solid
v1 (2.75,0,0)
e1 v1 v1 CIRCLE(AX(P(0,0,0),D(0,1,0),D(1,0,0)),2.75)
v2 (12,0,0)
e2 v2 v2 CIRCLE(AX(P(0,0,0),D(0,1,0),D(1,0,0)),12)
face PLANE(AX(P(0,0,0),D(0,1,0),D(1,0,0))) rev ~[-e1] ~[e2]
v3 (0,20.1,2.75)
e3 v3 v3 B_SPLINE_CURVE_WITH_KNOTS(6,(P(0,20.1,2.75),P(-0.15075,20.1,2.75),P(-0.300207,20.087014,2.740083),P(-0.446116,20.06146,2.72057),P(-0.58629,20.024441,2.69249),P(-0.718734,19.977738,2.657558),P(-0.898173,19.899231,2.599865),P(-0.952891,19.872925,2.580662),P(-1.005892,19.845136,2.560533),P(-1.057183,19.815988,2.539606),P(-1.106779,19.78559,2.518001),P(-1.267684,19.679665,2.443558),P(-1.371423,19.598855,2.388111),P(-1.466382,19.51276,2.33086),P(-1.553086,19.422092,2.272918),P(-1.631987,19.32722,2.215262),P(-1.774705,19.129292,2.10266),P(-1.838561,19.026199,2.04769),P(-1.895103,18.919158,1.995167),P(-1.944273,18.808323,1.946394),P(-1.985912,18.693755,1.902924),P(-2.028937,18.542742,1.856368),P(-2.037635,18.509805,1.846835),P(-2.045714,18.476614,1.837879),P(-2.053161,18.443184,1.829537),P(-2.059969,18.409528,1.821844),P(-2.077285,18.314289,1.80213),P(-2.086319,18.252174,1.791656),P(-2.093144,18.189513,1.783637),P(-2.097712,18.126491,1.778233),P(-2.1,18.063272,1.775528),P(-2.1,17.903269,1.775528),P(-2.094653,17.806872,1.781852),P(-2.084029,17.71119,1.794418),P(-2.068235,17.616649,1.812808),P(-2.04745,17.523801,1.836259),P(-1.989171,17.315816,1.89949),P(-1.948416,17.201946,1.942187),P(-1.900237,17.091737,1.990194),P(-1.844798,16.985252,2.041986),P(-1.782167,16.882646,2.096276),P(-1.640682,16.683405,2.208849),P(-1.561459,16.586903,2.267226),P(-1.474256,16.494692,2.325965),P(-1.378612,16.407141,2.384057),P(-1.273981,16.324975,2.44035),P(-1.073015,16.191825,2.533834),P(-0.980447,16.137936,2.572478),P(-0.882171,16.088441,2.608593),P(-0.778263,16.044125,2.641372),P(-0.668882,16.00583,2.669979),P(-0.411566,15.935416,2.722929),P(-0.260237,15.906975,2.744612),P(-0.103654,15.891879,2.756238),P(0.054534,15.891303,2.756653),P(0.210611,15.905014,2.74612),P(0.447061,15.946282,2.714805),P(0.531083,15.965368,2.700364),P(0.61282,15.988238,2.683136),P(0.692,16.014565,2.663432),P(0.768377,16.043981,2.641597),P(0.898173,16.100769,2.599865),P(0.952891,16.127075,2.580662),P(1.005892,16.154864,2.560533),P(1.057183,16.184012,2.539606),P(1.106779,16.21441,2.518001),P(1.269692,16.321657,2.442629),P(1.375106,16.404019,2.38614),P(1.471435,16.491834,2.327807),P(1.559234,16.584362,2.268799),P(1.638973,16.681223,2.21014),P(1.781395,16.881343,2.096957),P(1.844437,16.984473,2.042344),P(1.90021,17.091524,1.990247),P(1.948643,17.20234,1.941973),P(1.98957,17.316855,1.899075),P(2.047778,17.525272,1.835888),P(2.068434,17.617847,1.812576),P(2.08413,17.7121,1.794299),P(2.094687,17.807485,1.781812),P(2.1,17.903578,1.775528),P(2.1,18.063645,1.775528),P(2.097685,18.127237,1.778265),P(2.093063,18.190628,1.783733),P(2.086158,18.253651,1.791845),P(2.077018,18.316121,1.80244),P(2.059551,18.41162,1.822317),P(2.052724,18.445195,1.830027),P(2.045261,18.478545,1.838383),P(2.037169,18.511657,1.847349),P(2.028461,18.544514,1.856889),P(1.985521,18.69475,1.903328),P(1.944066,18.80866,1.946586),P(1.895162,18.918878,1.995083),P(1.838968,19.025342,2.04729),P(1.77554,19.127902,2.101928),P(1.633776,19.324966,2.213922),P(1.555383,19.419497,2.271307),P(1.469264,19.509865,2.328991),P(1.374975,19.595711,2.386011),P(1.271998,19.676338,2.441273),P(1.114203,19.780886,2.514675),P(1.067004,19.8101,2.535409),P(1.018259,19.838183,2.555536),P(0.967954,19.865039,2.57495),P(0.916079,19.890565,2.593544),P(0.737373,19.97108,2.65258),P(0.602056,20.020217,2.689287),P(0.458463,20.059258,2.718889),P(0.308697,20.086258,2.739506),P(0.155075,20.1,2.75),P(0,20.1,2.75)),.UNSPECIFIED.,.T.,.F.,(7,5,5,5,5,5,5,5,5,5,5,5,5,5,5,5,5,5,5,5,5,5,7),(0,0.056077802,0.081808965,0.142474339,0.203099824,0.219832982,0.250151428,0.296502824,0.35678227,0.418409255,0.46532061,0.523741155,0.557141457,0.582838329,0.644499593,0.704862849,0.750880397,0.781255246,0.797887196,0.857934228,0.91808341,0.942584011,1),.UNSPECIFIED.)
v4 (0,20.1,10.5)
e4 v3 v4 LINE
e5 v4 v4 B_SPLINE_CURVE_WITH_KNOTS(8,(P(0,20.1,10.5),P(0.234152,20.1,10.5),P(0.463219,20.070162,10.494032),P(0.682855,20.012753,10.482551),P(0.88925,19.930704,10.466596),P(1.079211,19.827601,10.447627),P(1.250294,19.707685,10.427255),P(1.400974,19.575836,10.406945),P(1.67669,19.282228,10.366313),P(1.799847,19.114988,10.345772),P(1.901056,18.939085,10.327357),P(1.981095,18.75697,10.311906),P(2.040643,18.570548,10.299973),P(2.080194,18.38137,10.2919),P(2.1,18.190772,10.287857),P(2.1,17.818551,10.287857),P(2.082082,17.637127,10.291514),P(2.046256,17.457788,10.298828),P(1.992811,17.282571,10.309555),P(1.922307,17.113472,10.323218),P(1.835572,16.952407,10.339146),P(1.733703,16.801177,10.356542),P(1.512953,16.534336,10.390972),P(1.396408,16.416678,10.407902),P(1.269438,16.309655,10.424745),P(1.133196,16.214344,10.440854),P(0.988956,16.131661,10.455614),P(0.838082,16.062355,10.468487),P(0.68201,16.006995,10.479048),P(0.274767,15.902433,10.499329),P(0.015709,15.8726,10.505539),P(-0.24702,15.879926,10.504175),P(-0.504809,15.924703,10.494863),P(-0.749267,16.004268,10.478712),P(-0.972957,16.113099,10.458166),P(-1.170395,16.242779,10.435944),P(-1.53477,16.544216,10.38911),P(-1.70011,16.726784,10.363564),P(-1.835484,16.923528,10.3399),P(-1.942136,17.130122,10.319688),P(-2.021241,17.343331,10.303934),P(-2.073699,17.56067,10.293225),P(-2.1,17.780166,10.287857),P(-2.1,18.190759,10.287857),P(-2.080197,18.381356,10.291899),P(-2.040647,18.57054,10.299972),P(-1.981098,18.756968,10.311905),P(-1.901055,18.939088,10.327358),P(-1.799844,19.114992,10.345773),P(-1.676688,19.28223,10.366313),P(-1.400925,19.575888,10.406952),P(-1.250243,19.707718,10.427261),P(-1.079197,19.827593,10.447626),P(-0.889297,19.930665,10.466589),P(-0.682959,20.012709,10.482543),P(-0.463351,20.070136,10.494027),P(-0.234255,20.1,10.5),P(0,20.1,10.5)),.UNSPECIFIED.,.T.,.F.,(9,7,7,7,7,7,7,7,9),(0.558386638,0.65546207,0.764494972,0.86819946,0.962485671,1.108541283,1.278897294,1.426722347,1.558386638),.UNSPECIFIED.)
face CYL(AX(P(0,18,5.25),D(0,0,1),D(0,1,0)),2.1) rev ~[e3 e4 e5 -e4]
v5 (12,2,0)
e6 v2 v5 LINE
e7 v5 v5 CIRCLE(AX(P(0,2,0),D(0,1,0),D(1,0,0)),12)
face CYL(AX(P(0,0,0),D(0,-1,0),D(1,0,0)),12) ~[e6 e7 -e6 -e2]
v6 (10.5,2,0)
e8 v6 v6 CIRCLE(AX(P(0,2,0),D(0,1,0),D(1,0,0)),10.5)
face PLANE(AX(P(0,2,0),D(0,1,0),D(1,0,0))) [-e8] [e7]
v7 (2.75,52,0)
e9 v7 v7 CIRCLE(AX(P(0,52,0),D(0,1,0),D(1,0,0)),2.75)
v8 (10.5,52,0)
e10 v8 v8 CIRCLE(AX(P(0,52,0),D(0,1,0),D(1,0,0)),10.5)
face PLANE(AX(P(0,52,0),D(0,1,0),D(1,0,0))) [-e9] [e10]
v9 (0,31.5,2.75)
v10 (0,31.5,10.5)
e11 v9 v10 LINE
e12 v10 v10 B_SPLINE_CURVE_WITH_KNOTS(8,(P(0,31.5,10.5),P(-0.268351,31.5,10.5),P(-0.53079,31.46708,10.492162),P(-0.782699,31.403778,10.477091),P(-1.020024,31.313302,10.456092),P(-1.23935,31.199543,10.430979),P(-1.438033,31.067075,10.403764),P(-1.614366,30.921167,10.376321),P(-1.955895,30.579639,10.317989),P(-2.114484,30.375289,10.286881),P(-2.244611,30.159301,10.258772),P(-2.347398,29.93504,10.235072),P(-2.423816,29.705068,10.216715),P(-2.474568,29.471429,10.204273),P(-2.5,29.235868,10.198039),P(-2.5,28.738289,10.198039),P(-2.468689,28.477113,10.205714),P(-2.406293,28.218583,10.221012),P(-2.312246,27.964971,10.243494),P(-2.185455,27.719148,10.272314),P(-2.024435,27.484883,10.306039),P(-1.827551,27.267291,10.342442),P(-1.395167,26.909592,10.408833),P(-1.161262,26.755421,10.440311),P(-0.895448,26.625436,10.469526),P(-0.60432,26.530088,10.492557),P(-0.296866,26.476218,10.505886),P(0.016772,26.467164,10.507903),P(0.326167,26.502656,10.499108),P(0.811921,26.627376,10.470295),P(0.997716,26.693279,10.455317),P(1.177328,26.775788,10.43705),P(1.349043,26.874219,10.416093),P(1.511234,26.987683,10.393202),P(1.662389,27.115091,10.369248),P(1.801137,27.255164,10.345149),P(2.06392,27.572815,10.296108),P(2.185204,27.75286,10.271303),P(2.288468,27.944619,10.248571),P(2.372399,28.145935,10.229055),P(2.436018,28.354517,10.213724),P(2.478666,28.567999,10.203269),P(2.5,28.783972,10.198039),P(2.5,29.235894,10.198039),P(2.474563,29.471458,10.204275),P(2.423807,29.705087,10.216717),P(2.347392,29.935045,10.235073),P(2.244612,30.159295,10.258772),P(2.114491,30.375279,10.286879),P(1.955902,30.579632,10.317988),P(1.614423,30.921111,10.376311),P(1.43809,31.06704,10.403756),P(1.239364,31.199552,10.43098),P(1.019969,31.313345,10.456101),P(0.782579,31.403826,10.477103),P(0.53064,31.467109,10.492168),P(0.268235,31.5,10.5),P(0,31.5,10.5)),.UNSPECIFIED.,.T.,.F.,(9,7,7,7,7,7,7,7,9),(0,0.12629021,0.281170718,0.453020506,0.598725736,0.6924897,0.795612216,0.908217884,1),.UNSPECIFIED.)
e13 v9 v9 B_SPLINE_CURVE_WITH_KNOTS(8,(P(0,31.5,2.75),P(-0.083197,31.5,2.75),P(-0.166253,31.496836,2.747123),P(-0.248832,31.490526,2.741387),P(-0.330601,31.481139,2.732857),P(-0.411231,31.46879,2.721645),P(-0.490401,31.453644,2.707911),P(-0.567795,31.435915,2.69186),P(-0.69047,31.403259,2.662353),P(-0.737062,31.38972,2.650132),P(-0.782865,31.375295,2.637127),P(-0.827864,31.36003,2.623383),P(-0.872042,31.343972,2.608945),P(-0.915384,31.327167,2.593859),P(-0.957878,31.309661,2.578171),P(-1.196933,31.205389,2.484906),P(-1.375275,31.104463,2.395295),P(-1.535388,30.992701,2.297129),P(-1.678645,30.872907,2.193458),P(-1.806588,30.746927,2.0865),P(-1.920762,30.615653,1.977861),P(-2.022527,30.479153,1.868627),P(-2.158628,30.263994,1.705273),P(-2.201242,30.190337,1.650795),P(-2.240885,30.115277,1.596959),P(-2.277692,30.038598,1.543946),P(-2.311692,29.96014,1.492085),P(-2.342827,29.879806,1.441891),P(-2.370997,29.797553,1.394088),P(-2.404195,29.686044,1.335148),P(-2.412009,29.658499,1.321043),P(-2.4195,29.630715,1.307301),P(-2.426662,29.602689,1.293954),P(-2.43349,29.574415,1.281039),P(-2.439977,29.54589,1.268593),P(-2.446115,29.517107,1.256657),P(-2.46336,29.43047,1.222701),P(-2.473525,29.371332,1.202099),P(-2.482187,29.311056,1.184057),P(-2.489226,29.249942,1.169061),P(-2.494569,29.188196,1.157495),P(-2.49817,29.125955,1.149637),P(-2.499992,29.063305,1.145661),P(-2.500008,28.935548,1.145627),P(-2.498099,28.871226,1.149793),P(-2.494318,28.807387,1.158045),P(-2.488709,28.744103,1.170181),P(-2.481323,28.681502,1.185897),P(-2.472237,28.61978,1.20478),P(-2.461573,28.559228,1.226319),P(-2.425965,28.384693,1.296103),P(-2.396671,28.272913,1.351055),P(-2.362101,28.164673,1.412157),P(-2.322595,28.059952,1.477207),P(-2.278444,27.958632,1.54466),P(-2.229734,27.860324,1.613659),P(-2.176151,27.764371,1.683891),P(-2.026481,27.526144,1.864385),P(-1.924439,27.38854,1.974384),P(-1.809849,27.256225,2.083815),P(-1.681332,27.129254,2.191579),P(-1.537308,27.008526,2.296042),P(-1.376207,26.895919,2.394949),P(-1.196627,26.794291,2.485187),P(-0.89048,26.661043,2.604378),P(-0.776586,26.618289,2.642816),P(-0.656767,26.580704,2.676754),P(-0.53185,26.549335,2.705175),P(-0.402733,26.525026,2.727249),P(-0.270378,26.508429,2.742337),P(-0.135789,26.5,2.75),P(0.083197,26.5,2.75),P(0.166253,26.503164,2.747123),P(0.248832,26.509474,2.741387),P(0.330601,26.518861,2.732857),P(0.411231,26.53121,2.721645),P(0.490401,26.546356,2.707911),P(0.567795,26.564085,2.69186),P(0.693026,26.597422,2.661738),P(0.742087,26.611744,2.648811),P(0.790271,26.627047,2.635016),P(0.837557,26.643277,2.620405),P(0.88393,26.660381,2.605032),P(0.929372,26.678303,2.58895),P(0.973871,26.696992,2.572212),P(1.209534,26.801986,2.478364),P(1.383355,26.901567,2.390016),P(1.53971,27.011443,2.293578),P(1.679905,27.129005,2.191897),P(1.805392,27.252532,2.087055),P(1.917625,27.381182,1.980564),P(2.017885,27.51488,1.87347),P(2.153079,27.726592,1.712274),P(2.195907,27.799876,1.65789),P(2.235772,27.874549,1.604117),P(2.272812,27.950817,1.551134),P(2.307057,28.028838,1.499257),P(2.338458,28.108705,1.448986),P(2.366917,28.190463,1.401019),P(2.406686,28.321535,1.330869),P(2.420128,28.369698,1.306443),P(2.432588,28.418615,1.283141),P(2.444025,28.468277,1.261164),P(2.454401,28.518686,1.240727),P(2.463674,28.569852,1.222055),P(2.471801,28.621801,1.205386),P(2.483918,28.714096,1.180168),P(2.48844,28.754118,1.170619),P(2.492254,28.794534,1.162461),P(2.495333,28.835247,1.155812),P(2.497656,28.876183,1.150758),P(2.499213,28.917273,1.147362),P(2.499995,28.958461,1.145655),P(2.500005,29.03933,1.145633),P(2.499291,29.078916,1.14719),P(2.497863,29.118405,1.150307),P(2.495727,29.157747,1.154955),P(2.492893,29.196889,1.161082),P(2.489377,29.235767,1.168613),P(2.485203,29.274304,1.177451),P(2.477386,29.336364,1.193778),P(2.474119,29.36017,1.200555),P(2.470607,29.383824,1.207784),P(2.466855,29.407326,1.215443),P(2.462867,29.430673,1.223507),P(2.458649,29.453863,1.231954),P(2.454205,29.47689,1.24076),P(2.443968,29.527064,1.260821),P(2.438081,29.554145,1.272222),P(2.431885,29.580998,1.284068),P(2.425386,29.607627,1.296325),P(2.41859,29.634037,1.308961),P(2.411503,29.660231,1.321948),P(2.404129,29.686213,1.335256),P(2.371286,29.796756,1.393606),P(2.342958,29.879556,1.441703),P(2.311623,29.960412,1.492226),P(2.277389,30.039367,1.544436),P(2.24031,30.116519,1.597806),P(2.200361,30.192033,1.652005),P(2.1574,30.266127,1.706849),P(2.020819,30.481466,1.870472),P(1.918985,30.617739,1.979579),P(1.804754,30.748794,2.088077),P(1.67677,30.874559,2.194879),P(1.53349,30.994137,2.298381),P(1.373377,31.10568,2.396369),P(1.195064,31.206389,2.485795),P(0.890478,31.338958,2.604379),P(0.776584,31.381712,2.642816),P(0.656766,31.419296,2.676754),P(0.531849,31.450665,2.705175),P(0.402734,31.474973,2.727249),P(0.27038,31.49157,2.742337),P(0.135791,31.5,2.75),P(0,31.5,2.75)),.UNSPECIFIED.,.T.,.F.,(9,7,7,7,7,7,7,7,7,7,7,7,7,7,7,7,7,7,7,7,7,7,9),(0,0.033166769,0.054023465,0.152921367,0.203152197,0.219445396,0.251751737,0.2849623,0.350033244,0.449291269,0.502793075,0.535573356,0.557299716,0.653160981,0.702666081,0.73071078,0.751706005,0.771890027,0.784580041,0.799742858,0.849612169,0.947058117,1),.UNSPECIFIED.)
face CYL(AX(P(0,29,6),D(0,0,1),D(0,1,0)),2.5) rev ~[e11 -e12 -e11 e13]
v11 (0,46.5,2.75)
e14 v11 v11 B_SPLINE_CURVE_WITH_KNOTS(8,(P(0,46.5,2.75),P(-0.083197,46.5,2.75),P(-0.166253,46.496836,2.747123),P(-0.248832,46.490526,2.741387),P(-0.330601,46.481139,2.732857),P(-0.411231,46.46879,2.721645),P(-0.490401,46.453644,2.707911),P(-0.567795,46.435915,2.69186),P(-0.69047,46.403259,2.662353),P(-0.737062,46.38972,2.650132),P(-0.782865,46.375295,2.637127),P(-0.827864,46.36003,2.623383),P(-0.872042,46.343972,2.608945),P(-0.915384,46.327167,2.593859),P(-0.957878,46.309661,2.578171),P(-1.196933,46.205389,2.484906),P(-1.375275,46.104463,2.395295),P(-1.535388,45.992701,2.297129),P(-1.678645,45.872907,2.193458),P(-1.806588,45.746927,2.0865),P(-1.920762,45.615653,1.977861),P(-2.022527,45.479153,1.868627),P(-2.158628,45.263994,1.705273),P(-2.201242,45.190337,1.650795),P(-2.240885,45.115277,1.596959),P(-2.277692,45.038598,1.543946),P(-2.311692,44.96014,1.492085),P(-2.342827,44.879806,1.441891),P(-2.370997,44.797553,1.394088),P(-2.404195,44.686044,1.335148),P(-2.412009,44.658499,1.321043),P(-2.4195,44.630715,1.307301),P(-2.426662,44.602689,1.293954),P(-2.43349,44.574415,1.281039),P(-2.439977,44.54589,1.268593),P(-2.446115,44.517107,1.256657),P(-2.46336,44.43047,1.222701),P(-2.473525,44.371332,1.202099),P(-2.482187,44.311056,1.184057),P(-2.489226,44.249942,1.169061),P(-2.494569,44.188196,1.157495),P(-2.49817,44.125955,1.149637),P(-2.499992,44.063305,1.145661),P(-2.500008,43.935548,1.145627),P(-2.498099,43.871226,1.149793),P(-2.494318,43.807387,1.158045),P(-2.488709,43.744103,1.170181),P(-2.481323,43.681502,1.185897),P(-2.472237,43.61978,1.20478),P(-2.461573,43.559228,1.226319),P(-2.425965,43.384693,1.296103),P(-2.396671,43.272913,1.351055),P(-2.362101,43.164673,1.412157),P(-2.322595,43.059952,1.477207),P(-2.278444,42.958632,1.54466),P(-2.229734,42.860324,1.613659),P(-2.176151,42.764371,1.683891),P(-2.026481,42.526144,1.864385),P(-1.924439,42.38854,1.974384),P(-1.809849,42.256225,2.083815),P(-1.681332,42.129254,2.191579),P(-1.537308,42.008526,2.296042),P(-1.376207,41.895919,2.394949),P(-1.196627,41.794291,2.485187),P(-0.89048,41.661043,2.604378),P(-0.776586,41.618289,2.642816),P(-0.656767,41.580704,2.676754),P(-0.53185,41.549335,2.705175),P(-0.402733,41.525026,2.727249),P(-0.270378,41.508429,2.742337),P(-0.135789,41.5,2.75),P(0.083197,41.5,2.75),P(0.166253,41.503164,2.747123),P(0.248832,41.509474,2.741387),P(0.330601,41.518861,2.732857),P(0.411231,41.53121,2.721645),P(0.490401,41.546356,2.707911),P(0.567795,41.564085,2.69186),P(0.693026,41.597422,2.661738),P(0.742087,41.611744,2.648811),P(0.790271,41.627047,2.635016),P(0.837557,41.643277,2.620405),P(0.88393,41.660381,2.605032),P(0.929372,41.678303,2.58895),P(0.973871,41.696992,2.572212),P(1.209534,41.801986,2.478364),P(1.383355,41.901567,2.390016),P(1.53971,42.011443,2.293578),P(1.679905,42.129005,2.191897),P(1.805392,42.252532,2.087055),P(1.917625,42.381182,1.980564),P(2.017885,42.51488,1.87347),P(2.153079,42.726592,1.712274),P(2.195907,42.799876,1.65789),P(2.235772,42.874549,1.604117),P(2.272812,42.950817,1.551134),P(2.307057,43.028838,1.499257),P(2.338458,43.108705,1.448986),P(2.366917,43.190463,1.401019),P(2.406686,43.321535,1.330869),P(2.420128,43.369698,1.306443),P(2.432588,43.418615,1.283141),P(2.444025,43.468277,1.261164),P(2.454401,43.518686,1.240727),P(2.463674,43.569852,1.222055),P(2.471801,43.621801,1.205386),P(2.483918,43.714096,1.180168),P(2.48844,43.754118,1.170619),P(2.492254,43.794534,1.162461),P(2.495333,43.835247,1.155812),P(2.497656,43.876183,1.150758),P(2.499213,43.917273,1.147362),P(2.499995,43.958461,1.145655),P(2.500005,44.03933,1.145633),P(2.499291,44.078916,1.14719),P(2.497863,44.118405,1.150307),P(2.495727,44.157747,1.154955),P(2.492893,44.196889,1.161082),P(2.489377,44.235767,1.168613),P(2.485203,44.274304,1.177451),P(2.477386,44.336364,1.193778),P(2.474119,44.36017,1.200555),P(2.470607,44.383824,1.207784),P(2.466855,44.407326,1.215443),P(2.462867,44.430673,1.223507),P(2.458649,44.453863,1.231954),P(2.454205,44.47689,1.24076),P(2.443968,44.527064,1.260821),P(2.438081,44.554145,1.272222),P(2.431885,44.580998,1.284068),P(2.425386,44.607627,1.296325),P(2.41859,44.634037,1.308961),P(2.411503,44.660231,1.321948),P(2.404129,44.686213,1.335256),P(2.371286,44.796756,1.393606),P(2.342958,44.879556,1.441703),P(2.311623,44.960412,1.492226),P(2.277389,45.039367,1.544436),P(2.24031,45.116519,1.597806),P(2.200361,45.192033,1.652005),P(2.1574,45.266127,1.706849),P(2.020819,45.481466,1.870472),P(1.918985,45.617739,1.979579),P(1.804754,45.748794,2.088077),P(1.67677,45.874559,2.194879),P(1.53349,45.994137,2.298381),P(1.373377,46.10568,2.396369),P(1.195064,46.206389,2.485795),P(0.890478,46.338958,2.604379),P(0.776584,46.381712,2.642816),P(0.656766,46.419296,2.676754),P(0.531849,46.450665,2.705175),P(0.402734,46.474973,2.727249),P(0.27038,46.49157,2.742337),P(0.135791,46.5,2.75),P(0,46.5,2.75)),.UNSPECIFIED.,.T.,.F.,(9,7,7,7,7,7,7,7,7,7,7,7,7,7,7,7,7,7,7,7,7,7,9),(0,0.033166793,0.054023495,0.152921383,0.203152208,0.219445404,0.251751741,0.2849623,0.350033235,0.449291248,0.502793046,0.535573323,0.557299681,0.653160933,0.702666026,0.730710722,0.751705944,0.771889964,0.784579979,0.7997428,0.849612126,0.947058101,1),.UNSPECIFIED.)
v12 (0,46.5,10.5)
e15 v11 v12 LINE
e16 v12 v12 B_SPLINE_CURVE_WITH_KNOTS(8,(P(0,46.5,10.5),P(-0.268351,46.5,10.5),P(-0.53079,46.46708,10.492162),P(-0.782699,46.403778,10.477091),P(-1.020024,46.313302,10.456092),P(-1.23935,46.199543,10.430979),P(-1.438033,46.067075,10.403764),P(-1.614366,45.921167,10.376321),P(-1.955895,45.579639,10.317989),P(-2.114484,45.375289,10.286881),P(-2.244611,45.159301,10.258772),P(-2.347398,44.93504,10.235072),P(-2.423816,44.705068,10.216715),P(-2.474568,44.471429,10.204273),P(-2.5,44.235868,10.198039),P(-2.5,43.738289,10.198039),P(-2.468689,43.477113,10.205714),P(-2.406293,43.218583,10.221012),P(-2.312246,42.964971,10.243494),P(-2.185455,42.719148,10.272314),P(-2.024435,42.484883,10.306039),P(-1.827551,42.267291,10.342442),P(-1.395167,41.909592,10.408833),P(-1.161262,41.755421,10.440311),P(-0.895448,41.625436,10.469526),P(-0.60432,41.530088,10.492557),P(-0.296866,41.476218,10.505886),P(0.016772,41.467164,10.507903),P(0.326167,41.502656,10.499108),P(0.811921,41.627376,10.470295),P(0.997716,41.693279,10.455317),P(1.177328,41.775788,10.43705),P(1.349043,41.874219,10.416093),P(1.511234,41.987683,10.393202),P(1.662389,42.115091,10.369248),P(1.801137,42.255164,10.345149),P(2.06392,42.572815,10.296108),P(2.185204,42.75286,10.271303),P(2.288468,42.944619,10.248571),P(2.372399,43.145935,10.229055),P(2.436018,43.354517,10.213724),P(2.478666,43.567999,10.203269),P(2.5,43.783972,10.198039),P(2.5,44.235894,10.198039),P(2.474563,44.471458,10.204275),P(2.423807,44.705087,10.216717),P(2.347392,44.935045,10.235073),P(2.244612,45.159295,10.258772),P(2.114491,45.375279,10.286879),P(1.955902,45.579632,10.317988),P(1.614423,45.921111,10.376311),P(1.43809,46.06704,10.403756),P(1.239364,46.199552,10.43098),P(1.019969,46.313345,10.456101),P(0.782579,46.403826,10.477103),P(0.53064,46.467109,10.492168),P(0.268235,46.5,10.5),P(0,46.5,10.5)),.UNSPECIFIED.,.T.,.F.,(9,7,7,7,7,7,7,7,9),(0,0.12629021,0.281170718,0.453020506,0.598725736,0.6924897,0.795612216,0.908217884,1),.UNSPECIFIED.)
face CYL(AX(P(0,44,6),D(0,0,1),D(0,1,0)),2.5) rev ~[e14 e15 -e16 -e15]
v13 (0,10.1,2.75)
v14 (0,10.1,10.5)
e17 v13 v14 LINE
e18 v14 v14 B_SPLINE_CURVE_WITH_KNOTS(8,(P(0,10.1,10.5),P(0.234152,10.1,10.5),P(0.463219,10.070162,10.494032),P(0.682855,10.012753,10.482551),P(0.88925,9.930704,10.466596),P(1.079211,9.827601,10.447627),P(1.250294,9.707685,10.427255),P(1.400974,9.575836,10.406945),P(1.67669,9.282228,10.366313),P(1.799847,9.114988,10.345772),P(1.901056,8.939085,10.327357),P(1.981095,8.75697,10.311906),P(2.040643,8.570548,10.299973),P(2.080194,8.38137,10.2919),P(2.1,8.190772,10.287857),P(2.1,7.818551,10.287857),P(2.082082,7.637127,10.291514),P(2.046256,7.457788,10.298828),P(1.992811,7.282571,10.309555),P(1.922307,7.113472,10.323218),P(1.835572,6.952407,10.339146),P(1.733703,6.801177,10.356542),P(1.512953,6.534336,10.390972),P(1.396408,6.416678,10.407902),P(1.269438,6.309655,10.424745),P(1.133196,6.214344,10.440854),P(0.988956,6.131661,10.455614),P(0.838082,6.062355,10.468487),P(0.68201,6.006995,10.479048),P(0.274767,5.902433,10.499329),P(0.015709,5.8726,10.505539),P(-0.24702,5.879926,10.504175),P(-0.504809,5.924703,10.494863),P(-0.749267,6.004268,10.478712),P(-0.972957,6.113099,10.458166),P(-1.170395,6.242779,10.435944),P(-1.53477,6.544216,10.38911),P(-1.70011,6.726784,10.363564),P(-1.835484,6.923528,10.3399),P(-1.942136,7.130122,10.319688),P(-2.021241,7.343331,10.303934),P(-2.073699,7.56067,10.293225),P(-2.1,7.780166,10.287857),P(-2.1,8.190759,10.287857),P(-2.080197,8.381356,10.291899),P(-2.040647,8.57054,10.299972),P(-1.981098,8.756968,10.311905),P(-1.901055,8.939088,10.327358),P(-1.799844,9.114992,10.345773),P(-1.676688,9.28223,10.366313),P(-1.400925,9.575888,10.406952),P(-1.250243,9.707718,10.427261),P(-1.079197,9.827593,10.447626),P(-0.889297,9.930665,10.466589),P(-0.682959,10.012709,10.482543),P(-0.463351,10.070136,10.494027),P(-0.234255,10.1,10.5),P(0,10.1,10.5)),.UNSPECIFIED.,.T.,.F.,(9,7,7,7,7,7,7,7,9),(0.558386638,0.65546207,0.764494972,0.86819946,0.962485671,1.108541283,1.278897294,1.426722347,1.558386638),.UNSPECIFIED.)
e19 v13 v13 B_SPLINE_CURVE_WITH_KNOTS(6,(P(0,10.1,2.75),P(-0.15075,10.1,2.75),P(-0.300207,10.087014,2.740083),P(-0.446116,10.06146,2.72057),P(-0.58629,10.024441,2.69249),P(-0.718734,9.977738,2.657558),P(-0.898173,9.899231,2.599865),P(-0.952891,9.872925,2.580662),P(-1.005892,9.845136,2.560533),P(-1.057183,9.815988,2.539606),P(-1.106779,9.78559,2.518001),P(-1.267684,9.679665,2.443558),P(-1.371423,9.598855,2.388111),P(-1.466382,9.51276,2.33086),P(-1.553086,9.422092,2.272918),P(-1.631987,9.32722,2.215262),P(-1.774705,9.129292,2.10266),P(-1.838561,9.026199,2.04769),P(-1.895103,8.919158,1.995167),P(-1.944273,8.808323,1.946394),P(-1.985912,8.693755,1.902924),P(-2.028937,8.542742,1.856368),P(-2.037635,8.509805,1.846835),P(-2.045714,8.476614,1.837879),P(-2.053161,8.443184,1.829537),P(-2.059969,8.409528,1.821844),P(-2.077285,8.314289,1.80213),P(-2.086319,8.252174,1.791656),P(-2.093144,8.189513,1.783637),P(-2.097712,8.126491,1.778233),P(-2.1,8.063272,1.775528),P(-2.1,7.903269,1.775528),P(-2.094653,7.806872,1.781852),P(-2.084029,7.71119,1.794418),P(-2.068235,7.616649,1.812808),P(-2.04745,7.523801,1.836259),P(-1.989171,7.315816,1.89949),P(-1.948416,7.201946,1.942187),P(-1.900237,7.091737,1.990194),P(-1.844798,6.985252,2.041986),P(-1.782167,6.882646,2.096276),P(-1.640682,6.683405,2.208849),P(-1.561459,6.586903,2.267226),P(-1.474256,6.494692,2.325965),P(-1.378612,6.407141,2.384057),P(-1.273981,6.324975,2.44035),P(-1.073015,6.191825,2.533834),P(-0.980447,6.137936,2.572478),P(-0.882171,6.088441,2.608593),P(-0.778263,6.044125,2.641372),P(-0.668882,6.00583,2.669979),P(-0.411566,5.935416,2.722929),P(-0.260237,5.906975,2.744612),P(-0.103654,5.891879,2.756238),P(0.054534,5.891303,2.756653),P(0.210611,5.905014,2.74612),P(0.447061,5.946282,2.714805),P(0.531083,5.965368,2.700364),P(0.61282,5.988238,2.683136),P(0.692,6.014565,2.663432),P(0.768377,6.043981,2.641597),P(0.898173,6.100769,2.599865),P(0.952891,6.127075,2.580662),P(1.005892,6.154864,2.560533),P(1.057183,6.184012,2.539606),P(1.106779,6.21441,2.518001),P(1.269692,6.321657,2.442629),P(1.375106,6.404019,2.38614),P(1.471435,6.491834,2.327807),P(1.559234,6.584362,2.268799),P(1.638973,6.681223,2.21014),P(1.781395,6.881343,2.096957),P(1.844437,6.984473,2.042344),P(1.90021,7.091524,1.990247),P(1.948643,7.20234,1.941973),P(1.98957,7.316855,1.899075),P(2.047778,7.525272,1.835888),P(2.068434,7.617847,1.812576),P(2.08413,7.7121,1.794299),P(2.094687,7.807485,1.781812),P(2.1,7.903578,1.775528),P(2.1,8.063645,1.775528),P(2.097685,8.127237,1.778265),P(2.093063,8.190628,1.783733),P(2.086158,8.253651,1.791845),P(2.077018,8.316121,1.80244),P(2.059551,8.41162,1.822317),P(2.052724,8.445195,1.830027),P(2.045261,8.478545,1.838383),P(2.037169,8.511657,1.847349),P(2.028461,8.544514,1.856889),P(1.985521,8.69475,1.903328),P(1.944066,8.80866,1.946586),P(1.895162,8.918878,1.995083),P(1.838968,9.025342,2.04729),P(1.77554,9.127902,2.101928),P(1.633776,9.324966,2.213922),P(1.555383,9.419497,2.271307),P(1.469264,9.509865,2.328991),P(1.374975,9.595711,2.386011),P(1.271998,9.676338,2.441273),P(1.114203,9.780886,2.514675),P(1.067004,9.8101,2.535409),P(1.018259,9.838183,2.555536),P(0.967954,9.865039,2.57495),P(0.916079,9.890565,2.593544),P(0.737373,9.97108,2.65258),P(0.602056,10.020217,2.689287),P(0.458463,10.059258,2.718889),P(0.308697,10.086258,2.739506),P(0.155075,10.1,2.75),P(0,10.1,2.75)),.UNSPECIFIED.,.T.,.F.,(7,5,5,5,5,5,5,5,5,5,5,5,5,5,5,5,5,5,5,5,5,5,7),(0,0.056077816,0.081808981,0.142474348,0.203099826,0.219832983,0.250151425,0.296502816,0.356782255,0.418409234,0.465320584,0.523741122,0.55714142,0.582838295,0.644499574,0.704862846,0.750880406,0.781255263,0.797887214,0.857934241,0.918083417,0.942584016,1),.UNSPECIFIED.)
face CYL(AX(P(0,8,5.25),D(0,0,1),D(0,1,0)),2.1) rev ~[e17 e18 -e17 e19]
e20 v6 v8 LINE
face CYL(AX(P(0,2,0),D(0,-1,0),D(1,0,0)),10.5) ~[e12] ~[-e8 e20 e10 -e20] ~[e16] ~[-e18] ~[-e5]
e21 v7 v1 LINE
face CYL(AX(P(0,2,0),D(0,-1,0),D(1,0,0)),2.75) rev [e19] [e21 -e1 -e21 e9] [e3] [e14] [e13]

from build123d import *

# Parameters (mm, degrees)
SKETCH_1_R                 = 12
SKETCH_1_R_2               = 2.75
EXTRUDE_1_DEPTH            = 2
SKETCH_2_R                 = 10.5
SKETCH_2_R_2               = 2.75
EXTRUDE_2_DEPTH            = 50
SKETCH_7_W                 = 2.1
SKETCH_7_H                 = 10.5
HOLE_WIZARD_M51_AT_2_COUNT = 2
HOLE_WIZARD_M51_AT_2_PITCH = 10
SKETCH_9_W                 = 2.5
SKETCH_9_H                 = 12
HOLE_WIZARD_M61_AT_2_COUNT = 2
HOLE_WIZARD_M61_AT_2_PITCH = 15


with BuildPart() as part:
    # Эскиз1 → Бобышка-Вытянуть1 (new body)
    with BuildSketch(Plane(origin=(0, 0, 0), x_dir=(1, 0, 0), z_dir=(0, 1, 0))):
        Circle(SKETCH_1_R)
        Circle(SKETCH_1_R_2, mode=Mode.SUBTRACT)
    extrude(amount=EXTRUDE_1_DEPTH)

    # Эскиз2 → Бобышка-Вытянуть2 (add)
    with BuildSketch(Plane(origin=(0, 2, 0), x_dir=(1, 0, 0), z_dir=(0, 1, 0))):
        Circle(SKETCH_2_R)
        Circle(SKETCH_2_R_2, mode=Mode.SUBTRACT)
    extrude(amount=EXTRUDE_2_DEPTH)

    # Эскиз7 → Отверстие обработанное метчиком M51 (revolve, cut)
    with BuildSketch(Plane(origin=(0, 8, 0), x_dir=(0, 1, 0), z_dir=(1, 0, 0))):
        with Locations((1.05, 5.25)):
            Rectangle(SKETCH_7_W, SKETCH_7_H)
    hole_wizard_m51 = revolve(axis=Axis((0, 8, -6.35), (0, 0, 1)), mode=Mode.SUBTRACT)

    # Отверстие обработанное метчиком M51 at 2: Отверстие обработанное метчиком M51 ×2
    with Locations(*[(0, i * HOLE_WIZARD_M51_AT_2_PITCH, 0) for i in range(1, HOLE_WIZARD_M51_AT_2_COUNT)]):
        add(hole_wizard_m51, mode=Mode.SUBTRACT)

    # Эскиз9 → Отверстие обработанное метчиком M61 (revolve, cut)
    with BuildSketch(Plane(origin=(0, 44, 0), x_dir=(0, 1, 0), z_dir=(1, 0, 0))):
        with Locations((1.25, 6)):
            Rectangle(SKETCH_9_W, SKETCH_9_H)
    hole_wizard_m61 = revolve(axis=Axis((0, 44, -6.35), (0, 0, 1)), mode=Mode.SUBTRACT)

    # Отверстие обработанное метчиком M61 at 2: Отверстие обработанное метчиком M61 ×2
    with Locations(*[(0, -i * HOLE_WIZARD_M61_AT_2_PITCH, 0) for i in range(1, HOLE_WIZARD_M61_AT_2_COUNT)]):
        add(hole_wizard_m61, mode=Mode.SUBTRACT)


solid = part.part
